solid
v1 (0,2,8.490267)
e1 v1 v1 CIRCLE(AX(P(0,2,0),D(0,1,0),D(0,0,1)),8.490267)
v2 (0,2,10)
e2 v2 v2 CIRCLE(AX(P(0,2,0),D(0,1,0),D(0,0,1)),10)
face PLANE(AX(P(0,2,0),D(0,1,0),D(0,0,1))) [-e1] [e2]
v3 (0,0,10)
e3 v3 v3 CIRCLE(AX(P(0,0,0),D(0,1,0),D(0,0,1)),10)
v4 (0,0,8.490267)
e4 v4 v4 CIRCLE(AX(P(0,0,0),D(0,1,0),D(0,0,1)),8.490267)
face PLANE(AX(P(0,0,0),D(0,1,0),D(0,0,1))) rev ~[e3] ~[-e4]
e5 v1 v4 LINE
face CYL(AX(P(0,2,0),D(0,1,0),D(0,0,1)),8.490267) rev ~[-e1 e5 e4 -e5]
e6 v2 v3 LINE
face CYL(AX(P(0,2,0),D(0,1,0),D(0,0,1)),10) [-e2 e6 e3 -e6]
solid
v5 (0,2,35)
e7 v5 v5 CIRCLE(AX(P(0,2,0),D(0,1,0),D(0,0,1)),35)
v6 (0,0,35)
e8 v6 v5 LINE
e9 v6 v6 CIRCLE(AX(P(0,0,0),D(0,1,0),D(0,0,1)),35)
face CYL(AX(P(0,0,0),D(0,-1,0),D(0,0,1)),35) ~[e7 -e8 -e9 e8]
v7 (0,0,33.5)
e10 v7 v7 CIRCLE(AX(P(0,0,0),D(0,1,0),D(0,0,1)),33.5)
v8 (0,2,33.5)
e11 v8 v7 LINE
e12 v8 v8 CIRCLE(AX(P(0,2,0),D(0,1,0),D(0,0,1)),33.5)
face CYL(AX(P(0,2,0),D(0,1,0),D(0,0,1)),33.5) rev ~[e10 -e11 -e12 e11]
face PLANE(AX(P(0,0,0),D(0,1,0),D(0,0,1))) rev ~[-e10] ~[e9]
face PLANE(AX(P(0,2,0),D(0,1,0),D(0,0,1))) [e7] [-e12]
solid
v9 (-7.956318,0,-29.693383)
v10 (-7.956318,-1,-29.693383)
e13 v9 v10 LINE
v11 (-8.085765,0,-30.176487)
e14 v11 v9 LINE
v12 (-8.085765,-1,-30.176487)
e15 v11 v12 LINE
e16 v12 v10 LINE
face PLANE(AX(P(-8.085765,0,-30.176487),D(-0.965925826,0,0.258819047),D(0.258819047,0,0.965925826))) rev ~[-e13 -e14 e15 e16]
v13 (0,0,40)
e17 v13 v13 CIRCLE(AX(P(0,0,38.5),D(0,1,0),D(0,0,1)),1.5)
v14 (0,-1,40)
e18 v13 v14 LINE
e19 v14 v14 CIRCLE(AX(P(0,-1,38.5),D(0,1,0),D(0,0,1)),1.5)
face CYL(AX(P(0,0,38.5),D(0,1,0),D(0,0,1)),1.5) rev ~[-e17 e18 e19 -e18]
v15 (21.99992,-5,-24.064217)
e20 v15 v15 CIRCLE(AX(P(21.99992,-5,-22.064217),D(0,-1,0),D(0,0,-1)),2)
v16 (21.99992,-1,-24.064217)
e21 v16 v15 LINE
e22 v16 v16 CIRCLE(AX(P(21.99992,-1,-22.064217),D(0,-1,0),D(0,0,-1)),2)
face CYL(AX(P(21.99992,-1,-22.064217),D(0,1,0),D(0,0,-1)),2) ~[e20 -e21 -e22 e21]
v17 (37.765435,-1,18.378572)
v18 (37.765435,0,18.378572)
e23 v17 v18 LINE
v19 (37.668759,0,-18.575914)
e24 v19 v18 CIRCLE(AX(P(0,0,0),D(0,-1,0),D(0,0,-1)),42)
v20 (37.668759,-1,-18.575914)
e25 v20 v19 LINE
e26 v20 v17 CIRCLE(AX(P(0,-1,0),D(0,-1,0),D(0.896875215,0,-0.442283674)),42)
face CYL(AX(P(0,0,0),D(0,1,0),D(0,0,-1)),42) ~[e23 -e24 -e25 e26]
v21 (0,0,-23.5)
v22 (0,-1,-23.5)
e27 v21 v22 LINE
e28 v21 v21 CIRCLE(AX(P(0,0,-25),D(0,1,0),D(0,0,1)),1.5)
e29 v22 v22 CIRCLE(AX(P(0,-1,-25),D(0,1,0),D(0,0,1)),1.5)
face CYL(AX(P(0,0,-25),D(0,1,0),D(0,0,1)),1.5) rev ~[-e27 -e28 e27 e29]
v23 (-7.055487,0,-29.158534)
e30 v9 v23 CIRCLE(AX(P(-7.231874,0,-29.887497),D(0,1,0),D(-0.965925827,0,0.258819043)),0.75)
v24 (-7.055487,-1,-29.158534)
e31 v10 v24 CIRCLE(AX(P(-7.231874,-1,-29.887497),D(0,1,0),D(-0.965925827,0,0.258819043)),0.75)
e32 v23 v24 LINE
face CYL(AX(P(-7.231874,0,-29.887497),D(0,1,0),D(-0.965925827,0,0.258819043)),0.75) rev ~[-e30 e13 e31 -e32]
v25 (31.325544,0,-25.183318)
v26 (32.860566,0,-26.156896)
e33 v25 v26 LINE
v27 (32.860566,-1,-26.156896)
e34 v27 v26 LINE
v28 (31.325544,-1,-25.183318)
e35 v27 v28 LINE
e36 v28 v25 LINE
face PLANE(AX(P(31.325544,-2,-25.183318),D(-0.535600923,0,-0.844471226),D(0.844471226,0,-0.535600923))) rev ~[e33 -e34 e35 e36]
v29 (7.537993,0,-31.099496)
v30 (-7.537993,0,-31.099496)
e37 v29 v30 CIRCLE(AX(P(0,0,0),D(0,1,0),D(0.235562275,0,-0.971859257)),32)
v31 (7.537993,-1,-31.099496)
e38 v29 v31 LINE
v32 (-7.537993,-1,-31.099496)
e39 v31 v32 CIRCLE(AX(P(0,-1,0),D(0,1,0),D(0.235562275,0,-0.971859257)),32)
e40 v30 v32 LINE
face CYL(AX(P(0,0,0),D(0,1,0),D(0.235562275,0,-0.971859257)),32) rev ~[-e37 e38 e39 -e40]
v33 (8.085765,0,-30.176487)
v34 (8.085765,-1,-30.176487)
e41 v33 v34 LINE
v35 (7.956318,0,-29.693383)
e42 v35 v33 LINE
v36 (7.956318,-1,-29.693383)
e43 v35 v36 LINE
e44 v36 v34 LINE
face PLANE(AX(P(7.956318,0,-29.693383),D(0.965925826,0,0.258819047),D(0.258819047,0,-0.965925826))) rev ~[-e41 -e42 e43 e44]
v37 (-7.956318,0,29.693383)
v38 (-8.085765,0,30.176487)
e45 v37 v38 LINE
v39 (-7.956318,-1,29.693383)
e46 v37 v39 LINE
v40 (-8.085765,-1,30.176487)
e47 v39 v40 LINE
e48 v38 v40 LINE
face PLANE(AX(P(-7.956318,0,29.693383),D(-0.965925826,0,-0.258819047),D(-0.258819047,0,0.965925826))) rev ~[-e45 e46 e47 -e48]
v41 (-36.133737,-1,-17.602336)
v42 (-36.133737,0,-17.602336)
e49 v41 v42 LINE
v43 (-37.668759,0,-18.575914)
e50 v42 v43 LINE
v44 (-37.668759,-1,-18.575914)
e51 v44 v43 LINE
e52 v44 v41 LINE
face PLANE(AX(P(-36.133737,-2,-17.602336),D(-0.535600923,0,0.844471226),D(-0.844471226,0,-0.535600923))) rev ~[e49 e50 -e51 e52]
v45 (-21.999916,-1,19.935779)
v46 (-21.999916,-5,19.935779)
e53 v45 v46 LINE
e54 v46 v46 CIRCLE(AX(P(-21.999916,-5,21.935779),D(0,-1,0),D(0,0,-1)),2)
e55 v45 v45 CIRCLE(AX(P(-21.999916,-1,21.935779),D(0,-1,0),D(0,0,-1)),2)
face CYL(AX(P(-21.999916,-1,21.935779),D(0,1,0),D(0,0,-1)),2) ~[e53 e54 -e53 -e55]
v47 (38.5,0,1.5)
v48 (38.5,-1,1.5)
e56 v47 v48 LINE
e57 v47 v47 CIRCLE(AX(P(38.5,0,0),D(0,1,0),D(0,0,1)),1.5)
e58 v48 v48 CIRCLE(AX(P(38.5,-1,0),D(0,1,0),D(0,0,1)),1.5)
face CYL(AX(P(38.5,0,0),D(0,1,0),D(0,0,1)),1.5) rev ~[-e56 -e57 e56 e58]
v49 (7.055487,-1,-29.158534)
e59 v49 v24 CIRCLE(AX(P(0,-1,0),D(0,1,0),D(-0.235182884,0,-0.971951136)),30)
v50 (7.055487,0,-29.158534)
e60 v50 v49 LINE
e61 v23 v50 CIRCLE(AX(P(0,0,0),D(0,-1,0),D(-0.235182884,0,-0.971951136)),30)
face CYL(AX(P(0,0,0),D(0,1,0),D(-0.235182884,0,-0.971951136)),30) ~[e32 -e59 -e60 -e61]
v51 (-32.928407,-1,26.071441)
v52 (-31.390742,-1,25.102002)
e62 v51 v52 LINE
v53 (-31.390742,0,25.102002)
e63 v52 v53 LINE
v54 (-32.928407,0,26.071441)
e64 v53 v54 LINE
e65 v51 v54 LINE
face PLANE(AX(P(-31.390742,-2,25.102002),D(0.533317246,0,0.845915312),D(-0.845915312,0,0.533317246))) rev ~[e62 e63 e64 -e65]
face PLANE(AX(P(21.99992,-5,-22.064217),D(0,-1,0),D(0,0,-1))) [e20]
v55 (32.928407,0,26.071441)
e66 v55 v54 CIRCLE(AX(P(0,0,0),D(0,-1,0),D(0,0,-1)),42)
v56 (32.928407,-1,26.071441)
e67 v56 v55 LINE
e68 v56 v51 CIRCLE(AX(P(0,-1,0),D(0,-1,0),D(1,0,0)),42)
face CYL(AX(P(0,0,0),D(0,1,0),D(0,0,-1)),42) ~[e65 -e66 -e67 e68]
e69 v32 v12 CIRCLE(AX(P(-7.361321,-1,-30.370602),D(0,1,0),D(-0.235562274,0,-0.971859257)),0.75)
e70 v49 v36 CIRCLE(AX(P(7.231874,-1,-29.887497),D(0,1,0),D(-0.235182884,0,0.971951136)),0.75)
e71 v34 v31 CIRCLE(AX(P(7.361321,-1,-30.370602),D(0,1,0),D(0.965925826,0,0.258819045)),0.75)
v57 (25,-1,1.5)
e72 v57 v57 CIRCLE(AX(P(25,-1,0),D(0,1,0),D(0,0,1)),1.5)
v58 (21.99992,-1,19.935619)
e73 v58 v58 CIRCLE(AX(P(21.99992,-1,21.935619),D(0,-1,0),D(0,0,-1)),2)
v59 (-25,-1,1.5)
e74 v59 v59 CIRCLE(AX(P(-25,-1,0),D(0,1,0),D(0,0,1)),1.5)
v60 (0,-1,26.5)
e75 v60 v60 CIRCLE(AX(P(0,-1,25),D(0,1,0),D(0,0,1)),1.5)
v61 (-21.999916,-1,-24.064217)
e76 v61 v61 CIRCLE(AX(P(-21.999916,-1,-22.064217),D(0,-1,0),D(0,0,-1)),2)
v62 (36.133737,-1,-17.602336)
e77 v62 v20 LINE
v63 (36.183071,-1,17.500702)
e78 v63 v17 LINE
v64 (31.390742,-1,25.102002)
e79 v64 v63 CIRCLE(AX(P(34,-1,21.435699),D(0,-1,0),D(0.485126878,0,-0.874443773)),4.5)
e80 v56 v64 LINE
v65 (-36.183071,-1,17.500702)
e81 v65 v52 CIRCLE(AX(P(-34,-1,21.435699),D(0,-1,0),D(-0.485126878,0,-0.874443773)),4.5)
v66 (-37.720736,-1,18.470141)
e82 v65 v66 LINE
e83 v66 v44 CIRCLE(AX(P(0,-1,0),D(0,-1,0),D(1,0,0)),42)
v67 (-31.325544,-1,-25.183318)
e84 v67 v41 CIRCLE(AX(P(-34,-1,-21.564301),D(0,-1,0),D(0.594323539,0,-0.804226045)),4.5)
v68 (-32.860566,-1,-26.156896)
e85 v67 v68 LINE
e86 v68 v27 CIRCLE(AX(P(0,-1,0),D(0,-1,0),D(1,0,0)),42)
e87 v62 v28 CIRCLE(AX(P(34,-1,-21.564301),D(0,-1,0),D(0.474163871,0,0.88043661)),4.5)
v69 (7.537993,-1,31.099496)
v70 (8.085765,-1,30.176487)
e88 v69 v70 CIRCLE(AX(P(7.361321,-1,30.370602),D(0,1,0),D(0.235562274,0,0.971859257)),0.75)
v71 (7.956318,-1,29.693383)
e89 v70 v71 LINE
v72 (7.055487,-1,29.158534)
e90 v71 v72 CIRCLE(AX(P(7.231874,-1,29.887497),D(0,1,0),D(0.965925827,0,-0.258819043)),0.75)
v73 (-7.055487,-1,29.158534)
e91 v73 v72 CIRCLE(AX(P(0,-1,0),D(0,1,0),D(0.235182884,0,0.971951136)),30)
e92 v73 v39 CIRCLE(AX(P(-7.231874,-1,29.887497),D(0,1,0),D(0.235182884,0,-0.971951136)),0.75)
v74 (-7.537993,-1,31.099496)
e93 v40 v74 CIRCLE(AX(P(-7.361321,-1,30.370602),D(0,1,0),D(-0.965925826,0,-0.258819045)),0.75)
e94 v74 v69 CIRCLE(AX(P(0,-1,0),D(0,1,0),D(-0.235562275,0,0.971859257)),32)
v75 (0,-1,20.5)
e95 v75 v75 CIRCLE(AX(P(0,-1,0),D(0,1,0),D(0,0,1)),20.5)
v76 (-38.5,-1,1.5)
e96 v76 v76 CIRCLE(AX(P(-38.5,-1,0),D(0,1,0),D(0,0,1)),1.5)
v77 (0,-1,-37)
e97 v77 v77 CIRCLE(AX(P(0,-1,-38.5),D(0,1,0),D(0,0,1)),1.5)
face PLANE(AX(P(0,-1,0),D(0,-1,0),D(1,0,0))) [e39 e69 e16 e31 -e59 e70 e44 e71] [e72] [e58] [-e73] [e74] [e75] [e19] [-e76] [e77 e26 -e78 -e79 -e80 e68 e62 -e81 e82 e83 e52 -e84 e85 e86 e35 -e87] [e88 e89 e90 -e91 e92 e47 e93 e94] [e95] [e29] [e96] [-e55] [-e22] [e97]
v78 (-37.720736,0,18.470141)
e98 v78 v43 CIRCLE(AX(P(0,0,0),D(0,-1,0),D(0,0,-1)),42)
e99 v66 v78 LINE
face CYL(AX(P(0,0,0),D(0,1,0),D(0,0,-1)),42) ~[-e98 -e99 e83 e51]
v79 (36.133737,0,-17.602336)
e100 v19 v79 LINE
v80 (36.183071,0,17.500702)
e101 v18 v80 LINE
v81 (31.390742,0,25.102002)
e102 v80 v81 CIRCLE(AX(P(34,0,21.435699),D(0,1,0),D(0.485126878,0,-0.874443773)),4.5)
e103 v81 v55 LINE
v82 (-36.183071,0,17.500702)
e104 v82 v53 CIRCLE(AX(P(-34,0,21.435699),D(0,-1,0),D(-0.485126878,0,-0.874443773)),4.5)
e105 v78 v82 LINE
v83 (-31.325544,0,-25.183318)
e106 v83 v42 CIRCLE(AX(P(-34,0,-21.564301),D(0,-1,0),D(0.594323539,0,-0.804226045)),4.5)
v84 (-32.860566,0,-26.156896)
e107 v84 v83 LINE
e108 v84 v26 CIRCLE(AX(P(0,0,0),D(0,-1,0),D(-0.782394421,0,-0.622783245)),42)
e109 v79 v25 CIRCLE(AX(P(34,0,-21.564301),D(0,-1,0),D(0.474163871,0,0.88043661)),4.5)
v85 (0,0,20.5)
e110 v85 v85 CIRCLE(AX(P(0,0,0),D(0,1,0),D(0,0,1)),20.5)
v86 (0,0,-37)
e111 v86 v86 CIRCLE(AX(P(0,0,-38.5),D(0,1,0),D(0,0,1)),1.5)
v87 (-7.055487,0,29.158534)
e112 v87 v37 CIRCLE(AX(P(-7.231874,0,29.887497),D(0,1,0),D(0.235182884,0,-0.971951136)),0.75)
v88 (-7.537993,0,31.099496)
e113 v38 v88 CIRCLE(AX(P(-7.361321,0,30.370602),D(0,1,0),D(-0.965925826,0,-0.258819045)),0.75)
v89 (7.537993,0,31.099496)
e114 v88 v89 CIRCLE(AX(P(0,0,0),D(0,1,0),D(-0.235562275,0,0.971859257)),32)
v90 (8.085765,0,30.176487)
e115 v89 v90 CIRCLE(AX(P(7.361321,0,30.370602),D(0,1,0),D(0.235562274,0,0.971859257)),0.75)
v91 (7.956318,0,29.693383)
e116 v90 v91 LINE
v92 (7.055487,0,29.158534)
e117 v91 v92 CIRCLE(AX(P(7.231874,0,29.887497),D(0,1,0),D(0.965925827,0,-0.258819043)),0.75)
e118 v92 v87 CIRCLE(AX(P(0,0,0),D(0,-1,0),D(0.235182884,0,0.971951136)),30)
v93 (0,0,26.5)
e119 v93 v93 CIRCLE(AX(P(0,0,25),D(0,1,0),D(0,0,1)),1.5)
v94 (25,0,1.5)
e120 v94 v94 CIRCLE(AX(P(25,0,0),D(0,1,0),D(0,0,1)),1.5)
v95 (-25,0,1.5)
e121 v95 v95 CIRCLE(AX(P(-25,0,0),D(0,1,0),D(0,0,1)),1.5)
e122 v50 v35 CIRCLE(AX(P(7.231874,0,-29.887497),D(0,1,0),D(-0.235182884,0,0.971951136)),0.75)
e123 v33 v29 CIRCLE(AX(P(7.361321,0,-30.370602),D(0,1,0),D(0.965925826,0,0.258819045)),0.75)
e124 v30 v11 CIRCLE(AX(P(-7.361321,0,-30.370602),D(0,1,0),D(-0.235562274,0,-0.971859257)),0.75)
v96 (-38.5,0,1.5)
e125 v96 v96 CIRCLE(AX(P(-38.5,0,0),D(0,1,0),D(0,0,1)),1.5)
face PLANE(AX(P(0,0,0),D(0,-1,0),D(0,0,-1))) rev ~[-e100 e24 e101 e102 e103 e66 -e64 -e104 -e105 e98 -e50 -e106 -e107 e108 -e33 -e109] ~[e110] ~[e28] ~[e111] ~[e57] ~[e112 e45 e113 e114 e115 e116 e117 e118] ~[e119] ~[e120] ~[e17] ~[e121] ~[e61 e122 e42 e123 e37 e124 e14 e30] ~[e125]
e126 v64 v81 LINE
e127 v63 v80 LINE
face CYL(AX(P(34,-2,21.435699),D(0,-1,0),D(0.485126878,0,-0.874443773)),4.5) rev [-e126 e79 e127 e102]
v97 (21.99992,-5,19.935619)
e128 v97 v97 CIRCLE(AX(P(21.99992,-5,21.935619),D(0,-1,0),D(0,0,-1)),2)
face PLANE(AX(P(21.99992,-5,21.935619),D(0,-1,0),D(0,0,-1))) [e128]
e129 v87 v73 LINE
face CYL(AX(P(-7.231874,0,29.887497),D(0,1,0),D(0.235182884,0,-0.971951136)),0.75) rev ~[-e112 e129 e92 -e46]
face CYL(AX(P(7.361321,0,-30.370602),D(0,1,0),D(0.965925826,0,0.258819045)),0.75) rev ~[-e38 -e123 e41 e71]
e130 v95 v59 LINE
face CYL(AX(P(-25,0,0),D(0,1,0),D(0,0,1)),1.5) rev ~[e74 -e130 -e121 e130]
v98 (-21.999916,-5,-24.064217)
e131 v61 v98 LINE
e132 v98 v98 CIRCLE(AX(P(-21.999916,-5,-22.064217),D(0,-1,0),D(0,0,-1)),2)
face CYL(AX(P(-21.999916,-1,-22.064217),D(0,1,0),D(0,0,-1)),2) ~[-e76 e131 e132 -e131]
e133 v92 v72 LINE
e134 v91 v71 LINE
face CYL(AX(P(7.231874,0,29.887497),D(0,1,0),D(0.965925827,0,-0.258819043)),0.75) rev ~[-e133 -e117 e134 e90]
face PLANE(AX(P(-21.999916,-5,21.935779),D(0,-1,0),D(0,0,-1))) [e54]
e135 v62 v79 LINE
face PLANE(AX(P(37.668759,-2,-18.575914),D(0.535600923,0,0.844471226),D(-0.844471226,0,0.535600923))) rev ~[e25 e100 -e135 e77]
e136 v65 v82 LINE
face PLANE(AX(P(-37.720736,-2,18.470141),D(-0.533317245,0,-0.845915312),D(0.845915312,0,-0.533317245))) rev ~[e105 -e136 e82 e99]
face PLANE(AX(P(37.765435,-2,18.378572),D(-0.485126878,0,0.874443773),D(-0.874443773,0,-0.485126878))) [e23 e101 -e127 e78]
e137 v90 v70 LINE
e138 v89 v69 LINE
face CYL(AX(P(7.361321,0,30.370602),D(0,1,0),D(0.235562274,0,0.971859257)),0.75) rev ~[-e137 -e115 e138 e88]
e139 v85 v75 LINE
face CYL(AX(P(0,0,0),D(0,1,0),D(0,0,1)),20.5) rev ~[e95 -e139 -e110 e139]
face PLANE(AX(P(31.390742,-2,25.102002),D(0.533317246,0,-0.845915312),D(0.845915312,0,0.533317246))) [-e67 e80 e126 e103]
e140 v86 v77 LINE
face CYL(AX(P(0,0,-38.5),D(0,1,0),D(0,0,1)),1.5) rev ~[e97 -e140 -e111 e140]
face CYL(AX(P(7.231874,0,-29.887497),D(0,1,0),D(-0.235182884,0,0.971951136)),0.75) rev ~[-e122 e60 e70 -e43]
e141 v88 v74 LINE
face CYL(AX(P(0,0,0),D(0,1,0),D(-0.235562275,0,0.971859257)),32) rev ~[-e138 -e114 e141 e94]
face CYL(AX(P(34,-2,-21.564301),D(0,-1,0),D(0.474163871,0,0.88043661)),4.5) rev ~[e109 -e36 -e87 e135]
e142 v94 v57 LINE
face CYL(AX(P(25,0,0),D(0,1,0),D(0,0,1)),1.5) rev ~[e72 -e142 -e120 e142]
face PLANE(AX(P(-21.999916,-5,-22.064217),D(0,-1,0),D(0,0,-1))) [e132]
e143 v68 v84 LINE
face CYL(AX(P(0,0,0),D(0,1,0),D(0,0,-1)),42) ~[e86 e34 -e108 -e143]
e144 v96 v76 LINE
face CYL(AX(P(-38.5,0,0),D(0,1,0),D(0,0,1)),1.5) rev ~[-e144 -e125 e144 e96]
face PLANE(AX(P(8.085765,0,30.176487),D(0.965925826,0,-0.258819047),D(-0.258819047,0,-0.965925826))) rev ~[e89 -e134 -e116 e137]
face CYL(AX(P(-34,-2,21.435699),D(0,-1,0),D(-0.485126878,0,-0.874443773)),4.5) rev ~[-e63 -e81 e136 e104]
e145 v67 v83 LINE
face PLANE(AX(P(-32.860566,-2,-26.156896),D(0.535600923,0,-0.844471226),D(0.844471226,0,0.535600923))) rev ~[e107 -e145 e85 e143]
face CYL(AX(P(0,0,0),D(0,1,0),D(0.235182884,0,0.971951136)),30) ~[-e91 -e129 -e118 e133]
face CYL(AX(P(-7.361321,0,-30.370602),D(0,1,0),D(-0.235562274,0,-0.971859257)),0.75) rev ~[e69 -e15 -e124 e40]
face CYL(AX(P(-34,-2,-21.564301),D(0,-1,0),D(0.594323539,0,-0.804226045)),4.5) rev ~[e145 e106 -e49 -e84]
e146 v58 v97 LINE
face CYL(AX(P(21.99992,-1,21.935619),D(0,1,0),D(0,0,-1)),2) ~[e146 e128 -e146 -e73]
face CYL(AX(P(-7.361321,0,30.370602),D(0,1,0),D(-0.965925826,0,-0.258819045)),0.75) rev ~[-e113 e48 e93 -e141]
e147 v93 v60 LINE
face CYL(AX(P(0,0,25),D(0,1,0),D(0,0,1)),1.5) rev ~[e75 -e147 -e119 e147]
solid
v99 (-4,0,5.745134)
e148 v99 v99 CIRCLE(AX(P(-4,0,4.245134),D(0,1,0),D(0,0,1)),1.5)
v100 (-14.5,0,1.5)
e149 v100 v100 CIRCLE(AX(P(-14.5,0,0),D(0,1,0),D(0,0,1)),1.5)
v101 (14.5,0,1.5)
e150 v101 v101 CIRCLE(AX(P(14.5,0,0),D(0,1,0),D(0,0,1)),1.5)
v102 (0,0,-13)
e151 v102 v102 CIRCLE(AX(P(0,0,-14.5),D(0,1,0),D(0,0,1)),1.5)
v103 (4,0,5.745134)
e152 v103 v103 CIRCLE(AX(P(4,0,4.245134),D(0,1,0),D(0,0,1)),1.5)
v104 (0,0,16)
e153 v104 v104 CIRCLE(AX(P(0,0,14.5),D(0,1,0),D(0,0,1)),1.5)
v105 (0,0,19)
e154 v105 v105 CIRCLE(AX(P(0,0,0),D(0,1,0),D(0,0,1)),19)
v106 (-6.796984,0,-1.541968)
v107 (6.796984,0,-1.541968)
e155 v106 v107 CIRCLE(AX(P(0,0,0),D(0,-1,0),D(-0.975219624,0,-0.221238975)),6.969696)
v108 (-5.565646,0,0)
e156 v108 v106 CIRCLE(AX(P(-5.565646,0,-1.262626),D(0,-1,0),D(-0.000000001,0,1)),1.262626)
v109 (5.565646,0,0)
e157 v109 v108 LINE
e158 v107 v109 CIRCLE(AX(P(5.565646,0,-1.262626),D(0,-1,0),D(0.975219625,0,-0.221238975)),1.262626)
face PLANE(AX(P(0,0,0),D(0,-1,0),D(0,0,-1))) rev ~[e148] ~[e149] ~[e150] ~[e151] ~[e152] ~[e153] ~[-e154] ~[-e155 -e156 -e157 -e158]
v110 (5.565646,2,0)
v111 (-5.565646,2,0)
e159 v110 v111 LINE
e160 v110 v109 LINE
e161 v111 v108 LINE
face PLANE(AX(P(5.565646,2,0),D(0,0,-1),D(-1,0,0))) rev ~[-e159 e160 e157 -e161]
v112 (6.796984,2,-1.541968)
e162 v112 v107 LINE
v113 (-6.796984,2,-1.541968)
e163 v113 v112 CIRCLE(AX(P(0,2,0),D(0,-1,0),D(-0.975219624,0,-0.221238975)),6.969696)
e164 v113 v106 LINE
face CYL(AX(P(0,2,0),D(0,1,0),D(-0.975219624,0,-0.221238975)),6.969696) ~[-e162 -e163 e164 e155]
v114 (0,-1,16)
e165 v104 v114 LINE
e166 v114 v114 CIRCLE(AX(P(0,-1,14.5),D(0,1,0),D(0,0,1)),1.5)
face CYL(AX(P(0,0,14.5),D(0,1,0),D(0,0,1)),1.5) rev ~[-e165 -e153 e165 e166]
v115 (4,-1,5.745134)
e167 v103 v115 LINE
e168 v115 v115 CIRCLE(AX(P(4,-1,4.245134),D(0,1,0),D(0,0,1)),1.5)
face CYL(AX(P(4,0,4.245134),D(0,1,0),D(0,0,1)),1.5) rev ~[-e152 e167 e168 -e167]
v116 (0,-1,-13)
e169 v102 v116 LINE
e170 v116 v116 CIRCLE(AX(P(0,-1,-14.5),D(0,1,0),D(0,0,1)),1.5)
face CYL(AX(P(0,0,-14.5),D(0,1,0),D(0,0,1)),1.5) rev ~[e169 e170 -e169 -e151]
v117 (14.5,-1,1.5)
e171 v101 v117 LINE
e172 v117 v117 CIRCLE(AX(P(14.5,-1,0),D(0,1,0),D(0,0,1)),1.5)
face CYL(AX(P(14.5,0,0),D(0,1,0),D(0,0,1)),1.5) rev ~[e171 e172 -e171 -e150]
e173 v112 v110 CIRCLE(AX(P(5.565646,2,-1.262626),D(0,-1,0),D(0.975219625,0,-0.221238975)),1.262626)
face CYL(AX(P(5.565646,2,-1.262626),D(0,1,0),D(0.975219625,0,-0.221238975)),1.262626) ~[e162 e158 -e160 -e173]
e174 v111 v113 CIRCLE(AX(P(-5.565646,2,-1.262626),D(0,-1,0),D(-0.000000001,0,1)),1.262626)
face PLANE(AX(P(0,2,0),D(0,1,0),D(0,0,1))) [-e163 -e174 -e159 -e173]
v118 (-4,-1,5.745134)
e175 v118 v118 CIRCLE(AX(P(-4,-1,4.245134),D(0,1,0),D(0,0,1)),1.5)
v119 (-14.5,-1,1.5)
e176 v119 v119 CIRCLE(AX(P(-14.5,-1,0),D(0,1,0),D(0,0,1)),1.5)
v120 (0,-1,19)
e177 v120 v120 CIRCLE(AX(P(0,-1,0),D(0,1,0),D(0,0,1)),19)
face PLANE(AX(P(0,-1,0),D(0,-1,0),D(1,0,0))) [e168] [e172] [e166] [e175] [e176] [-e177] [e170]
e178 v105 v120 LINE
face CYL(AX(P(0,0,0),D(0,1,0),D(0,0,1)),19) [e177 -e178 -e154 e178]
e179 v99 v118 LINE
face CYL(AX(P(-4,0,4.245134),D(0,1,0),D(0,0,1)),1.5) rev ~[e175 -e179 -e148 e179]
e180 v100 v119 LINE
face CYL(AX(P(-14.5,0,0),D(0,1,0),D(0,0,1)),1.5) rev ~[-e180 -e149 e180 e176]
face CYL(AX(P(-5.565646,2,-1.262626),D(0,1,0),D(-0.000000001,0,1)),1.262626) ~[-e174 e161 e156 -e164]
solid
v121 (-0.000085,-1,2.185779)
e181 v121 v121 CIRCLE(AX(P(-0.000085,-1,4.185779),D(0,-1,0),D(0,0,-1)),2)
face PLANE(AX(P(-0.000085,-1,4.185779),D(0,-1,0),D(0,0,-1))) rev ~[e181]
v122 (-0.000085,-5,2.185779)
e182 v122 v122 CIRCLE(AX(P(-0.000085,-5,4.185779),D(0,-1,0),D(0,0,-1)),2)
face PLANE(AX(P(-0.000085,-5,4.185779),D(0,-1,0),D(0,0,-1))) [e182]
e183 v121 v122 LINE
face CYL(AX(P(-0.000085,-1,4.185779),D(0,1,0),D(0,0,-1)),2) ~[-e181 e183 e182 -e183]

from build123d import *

# Parameters (mm, degrees)
SKETCH_1_R          = 35
EXTRUDE_1_DEPTH     = 2
SKETCH_2_R          = 33.5
SKETCH_2_R_2        = 10
SKETCH_2_R_3        = 8.490267481
CUT_EXTRUDE_1_DEPTH = 2
SKETCH_5_R          = 42
EXTRUDE_3_DEPTH     = 2
CUT_EXTRUDE_3_DEPTH = 2
SKETCH_7_R          = 1.5
CUT_EXTRUDE_4_DEPTH = 2
CUT_EXTRUDE_5_DEPTH = 2
SKETCH_10_R         = 20.5
SKETCH_10_R_2       = 19
CUT_EXTRUDE_6_DEPTH = 2
SKETCH_11_R         = 1.5
CUT_EXTRUDE_7_DEPTH = 2
SKETCH_12_R         = 1.5
CUT_EXTRUDE_8_DEPTH = 2
SKETCH_13_R         = 42
CUT_EXTRUDE_9_DEPTH = 1
SKETCH_15_R         = 2
EXTRUDE_5_DEPTH     = 4


with BuildPart() as part:
    # Эскиз1 → Бобышка-Вытянуть1 (new body)
    with BuildSketch(Plane(origin=(0, 0, 0), x_dir=(1, 0, 0), z_dir=(0, 1, 0))):
        with Locations(Location((0, 0, 0), (0, 0, 270))):
            Circle(SKETCH_1_R)
    extrude(amount=EXTRUDE_1_DEPTH)

    # Эскиз2 → Вырез-Вытянуть1 (cut)
    # profile 1 of 2: a face of its own
    with BuildSketch(Plane(origin=(0, 2, 0), x_dir=(1, 0, 0), z_dir=(0, 1, 0))):
        with Locations(Location((0, 0, 0), (0, 0, 270))):
            Circle(SKETCH_2_R)
        with Locations(Location((0, 0, 0), (0, 0, 270))):
            Circle(SKETCH_2_R_2, mode=Mode.SUBTRACT)
    # profile 2 of 2: a face of its own
    with BuildSketch(Plane(origin=(0, 2, 0), x_dir=(1, 0, 0), z_dir=(0, 1, 0))):
        with Locations(Location((0, 0, 0), (0, 0, 270))):
            Circle(SKETCH_2_R_3)
        with BuildLine():
            Line((5.565646409, 0), (-5.565646409, 0))
            ThreePointArc((-5.565646409, 0), (-6.552289655, 0.474742908), (-6.796984316, 1.5419684))
            ThreePointArc((-6.796984316, 1.5419684), (0, 6.969696), (6.796984316, 1.5419684))
            ThreePointArc((6.796984316, 1.5419684), (6.552289655, 0.474742908), (5.565646409, 0))
        make_face(mode=Mode.SUBTRACT)
    extrude(amount=-CUT_EXTRUDE_1_DEPTH, mode=Mode.SUBTRACT)


with BuildPart() as cut_extrude_1_piece_1:
    # of the separate pieces the step leaves, piece 1, a body of its own (cut_extrude_1_pieces)
    add(part.part.solids().sort_by_distance((0, 0, 35))[0])


with BuildPart() as cut_extrude_1_piece_2:
    # of the separate pieces the step leaves, piece 2, a body of its own (cut_extrude_1_pieces)
    add(part.part.solids().sort_by_distance((0, 0, 10))[0])


with BuildPart() as cut_extrude_1_piece_3:
    # of the separate pieces the step leaves, piece 3, a body of its own (cut_extrude_1_pieces)
    add(part.part.solids().sort_by_distance((6.796984316, 0, -1.5419684))[0])

    # Эскиз5 → Бобышка-Вытянуть3 (add)
    with BuildSketch(Plane.XZ):
        with Locations(Location((0, 0, 0), (0, 0, 270))):
            Circle(SKETCH_5_R)
    extrude(amount=EXTRUDE_3_DEPTH)

    # Эскиз6 → Вырез-Вытянуть3 (cut)
    with BuildSketch(Plane.XZ.offset(2)):
        with BuildLine():
            Line((-36.133737418, -17.602335874), (-37.66875903, -18.575914329))
            ThreePointArc((-37.66875903, -18.575914329), (-35.467791488, -22.495238762), (-32.860565687, -26.156896275))
            Line((-32.860565687, -26.156896275), (-31.325544076, -25.183317819))
            ThreePointArc((-31.325544076, -25.183317819), (-30.199879483, -19.154096464), (-36.133737418, -17.602335874))
        make_face()
        with BuildLine():
            Line((31.325544076, -25.183317819), (32.860565687, -26.156896275))
            ThreePointArc((32.860565687, -26.156896275), (35.467791488, -22.495238762), (37.66875903, -18.575914329))
            Line((37.66875903, -18.575914329), (36.133737418, -17.602335874))
            ThreePointArc((36.133737418, -17.602335874), (30.199879483, -19.154096464), (31.325544076, -25.183317819))
        make_face()
        with BuildLine():
            Line((31.390742359, 25.102001956), (32.928406926, 26.071440645))
            ThreePointArc((32.928406926, 26.071440645), (35.555588694, 22.356209711), (37.765435228, 18.378571816))
            Line((37.765435228, 18.378571816), (36.18307095, 17.500702403))
            ThreePointArc((36.18307095, 17.500702403), (30.193381094, 19.035771779), (31.390742359, 25.102001956))
        make_face()
        with BuildLine():
            Line((-31.390742359, 25.102001956), (-32.928406926, 26.071440645))
            ThreePointArc((-32.928406926, 26.071440645), (-35.528443123, 22.399324303), (-37.720735518, 18.470141092))
            Line((-37.720735518, 18.470141092), (-36.18307095, 17.500702403))
            ThreePointArc((-36.18307095, 17.500702403), (-30.193381094, 19.035771779), (-31.390742359, 25.102001956))
        make_face()
    extrude(amount=-CUT_EXTRUDE_3_DEPTH, mode=Mode.SUBTRACT)

    # Эскиз7 → Вырез-Вытянуть4 (cut)
    with BuildSketch(Plane(origin=(0, 0, 0), x_dir=(1, 0, 0), z_dir=(0, 1, 0))):
        with Locations(Location((0, 25, 0), (0, 0, 270))):
            Circle(SKETCH_7_R)
        with Locations(Location((-25, 0, 0), (0, 0, 270))):
            Circle(SKETCH_7_R)
        with Locations(Location((25, 0, 0), (0, 0, 270))):
            Circle(SKETCH_7_R)
        with Locations(Location((0, -25, 0), (0, 0, 270))):
            Circle(SKETCH_7_R)
        with Locations(Location((4, -4.24513374, 0), (0, 0, 270))):
            Circle(SKETCH_7_R)
        with Locations(Location((-4, -4.24513374, 0), (0, 0, 270))):
            Circle(SKETCH_7_R)
    extrude(amount=-CUT_EXTRUDE_4_DEPTH, mode=Mode.SUBTRACT)

    # Эскиз9 → Вырез-Вытянуть5 (cut)
    with BuildSketch(Plane(origin=(0, 0, 0), x_dir=(1, 0, 0), z_dir=(0, 1, 0))):
        with BuildLine():
            Line((-7.956318037, -29.693383157), (-8.085765453, -30.176487487))
            ThreePointArc((-8.085765453, -30.176487487), (-8.006293038, -30.753369556), (-7.537992789, -31.099496213))
            ThreePointArc((-7.537992789, -31.099496213), (0, -32), (7.537992789, -31.099496213))
            ThreePointArc((7.537992789, -31.099496213), (8.006293038, -30.753369556), (8.085765453, -30.176487487))
            Line((8.085765453, -30.176487487), (7.956318037, -29.693383157))
            ThreePointArc((7.956318037, -29.693383157), (7.614767331, -29.242600206), (7.055486505, -29.158534088))
            ThreePointArc((7.055486505, -29.158534088), (0, -30), (-7.055486505, -29.158534088))
            ThreePointArc((-7.055486505, -29.158534088), (-7.614767331, -29.242600206), (-7.956318037, -29.693383157))
        make_face()
        with BuildLine():
            Line((7.956318037, 29.693383157), (8.085765453, 30.176487487))
            ThreePointArc((8.085765453, 30.176487487), (8.006293038, 30.753369556), (7.537992789, 31.099496213))
            ThreePointArc((7.537992789, 31.099496213), (0, 32), (-7.537992789, 31.099496213))
            ThreePointArc((-7.537992789, 31.099496213), (-8.006293038, 30.753369556), (-8.085765453, 30.176487487))
            Line((-8.085765453, 30.176487487), (-7.956318037, 29.693383157))
            ThreePointArc((-7.956318037, 29.693383157), (-7.614767331, 29.242600206), (-7.055486505, 29.158534088))
            ThreePointArc((-7.055486505, 29.158534088), (0, 30), (7.055486505, 29.158534088))
            ThreePointArc((7.055486505, 29.158534088), (7.614767331, 29.242600206), (7.956318037, 29.693383157))
        make_face()
    extrude(amount=-CUT_EXTRUDE_5_DEPTH, mode=Mode.SUBTRACT)

    # Эскиз10 → Вырез-Вытянуть6 (cut)
    with BuildSketch(Plane(origin=(0, 0, 0), x_dir=(1, 0, 0), z_dir=(0, 1, 0))):
        with Locations(Location((0, 0, 0), (0, 0, 270))):
            Circle(SKETCH_10_R)
        with Locations(Location((0, 0, 0), (0, 0, 270))):
            Circle(SKETCH_10_R_2, mode=Mode.SUBTRACT)
    extrude(amount=-CUT_EXTRUDE_6_DEPTH, mode=Mode.SUBTRACT)


with BuildPart() as cut_extrude_6_piece_1:
    # of the separate pieces the step leaves, piece 1, a body of its own (cut_extrude_6_pieces)
    add(cut_extrude_1_piece_3.part.solids().sort_by_distance((-32.860565687, 0, -26.156896275))[0])

    # Эскиз12 → Вырез-Вытянуть8 (cut)
    with BuildSketch(Plane(origin=(0, 0, 0), x_dir=(1, 0, 0), z_dir=(0, 1, 0))):
        with Locations(Location((0, -38.5, 0), (0, 0, 270))):
            Circle(SKETCH_12_R)
        with Locations(Location((-38.5, 0, 0), (0, 0, 270))):
            Circle(SKETCH_12_R)
        with Locations(Location((0, 38.5, 0), (0, 0, 270))):
            Circle(SKETCH_12_R)
        with Locations(Location((38.5, 0, 0), (0, 0, 270))):
            Circle(SKETCH_12_R)
    extrude(amount=-CUT_EXTRUDE_8_DEPTH, mode=Mode.SUBTRACT)


with BuildPart() as cut_extrude_6_piece_2:
    # of the separate pieces the step leaves, piece 2, a body of its own (cut_extrude_6_pieces)
    add(cut_extrude_1_piece_3.part.solids().sort_by_distance((0, 0, 19))[0])

    # Эскиз11 → Вырез-Вытянуть7 (cut)
    with BuildSketch(Plane(origin=(0, 0, 0), x_dir=(1, 0, 0), z_dir=(0, 1, 0))):
        with Locations(Location((0, 14.5, 0), (0, 0, 270))):
            Circle(SKETCH_11_R)
        with Locations(Location((14.5, 0, 0), (0, 0, 270))):
            Circle(SKETCH_11_R)
        with Locations(Location((0, -14.5, 0), (0, 0, 270))):
            Circle(SKETCH_11_R)
        with Locations(Location((-14.5, 0, 0), (0, 0, 270))):
            Circle(SKETCH_11_R)
    extrude(amount=-CUT_EXTRUDE_7_DEPTH, mode=Mode.SUBTRACT)


with BuildPart() as cut_extrude_9_tool:
    # Эскиз13 → Вырез-Вытянуть9 (new body)
    with BuildSketch(Plane.XZ.offset(2)):
        Circle(SKETCH_13_R)
    extrude(amount=-CUT_EXTRUDE_9_DEPTH)


with BuildPart() as cut_extrude_6_piece_1_1:
    add(cut_extrude_6_piece_1.part)

    # Вырез-Вытянуть9: cut by cut_extrude_9_tool
    add(cut_extrude_9_tool.part, mode=Mode.SUBTRACT)

    # Эскиз15 → Бобышка-Вытянуть5 (add)
    with BuildSketch(Plane.XZ.offset(1)):
        with Locations(Location((21.999920011, 21.935618834, 0), (0, 0, 270))):
            Circle(SKETCH_15_R)
        with Locations(Location((21.999920011, -22.064217134, 0), (0, 0, 270))):
            Circle(SKETCH_15_R)
        with Locations(Location((-21.999915957, -22.064217134, 0), (0, 0, 270))):
            Circle(SKETCH_15_R)
        with Locations(Location((-21.999915957, 21.935779051, 0), (0, 0, 270))):
            Circle(SKETCH_15_R)
        with Locations(Location((-8.4963e-05, 4.185778691, 0), (0, 0, 270))):
            Circle(SKETCH_15_R)
    extrude(amount=EXTRUDE_5_DEPTH)


with BuildPart() as cut_extrude_6_piece_2_1:
    add(cut_extrude_6_piece_2.part)

    # Вырез-Вытянуть9: cut by cut_extrude_9_tool
    add(cut_extrude_9_tool.part, mode=Mode.SUBTRACT)


with BuildPart() as extrude_5_piece_1:
    # of the separate pieces the step leaves, piece 1, a body of its own (extrude_5_pieces)
    add(cut_extrude_6_piece_1_1.part.solids().sort_by_distance((-32.860565687, 0, -26.156896275))[0])


with BuildPart() as extrude_5_piece_2:
    # of the separate pieces the step leaves, piece 2, a body of its own (extrude_5_pieces)
    add(cut_extrude_6_piece_1_1.part.solids().sort_by_distance((-8.4963e-05, -1, 2.185778691))[0])


solid = Compound([cut_extrude_1_piece_1.part, cut_extrude_1_piece_2.part, cut_extrude_6_piece_2_1.part, extrude_5_piece_1.part, extrude_5_piece_2.part])
